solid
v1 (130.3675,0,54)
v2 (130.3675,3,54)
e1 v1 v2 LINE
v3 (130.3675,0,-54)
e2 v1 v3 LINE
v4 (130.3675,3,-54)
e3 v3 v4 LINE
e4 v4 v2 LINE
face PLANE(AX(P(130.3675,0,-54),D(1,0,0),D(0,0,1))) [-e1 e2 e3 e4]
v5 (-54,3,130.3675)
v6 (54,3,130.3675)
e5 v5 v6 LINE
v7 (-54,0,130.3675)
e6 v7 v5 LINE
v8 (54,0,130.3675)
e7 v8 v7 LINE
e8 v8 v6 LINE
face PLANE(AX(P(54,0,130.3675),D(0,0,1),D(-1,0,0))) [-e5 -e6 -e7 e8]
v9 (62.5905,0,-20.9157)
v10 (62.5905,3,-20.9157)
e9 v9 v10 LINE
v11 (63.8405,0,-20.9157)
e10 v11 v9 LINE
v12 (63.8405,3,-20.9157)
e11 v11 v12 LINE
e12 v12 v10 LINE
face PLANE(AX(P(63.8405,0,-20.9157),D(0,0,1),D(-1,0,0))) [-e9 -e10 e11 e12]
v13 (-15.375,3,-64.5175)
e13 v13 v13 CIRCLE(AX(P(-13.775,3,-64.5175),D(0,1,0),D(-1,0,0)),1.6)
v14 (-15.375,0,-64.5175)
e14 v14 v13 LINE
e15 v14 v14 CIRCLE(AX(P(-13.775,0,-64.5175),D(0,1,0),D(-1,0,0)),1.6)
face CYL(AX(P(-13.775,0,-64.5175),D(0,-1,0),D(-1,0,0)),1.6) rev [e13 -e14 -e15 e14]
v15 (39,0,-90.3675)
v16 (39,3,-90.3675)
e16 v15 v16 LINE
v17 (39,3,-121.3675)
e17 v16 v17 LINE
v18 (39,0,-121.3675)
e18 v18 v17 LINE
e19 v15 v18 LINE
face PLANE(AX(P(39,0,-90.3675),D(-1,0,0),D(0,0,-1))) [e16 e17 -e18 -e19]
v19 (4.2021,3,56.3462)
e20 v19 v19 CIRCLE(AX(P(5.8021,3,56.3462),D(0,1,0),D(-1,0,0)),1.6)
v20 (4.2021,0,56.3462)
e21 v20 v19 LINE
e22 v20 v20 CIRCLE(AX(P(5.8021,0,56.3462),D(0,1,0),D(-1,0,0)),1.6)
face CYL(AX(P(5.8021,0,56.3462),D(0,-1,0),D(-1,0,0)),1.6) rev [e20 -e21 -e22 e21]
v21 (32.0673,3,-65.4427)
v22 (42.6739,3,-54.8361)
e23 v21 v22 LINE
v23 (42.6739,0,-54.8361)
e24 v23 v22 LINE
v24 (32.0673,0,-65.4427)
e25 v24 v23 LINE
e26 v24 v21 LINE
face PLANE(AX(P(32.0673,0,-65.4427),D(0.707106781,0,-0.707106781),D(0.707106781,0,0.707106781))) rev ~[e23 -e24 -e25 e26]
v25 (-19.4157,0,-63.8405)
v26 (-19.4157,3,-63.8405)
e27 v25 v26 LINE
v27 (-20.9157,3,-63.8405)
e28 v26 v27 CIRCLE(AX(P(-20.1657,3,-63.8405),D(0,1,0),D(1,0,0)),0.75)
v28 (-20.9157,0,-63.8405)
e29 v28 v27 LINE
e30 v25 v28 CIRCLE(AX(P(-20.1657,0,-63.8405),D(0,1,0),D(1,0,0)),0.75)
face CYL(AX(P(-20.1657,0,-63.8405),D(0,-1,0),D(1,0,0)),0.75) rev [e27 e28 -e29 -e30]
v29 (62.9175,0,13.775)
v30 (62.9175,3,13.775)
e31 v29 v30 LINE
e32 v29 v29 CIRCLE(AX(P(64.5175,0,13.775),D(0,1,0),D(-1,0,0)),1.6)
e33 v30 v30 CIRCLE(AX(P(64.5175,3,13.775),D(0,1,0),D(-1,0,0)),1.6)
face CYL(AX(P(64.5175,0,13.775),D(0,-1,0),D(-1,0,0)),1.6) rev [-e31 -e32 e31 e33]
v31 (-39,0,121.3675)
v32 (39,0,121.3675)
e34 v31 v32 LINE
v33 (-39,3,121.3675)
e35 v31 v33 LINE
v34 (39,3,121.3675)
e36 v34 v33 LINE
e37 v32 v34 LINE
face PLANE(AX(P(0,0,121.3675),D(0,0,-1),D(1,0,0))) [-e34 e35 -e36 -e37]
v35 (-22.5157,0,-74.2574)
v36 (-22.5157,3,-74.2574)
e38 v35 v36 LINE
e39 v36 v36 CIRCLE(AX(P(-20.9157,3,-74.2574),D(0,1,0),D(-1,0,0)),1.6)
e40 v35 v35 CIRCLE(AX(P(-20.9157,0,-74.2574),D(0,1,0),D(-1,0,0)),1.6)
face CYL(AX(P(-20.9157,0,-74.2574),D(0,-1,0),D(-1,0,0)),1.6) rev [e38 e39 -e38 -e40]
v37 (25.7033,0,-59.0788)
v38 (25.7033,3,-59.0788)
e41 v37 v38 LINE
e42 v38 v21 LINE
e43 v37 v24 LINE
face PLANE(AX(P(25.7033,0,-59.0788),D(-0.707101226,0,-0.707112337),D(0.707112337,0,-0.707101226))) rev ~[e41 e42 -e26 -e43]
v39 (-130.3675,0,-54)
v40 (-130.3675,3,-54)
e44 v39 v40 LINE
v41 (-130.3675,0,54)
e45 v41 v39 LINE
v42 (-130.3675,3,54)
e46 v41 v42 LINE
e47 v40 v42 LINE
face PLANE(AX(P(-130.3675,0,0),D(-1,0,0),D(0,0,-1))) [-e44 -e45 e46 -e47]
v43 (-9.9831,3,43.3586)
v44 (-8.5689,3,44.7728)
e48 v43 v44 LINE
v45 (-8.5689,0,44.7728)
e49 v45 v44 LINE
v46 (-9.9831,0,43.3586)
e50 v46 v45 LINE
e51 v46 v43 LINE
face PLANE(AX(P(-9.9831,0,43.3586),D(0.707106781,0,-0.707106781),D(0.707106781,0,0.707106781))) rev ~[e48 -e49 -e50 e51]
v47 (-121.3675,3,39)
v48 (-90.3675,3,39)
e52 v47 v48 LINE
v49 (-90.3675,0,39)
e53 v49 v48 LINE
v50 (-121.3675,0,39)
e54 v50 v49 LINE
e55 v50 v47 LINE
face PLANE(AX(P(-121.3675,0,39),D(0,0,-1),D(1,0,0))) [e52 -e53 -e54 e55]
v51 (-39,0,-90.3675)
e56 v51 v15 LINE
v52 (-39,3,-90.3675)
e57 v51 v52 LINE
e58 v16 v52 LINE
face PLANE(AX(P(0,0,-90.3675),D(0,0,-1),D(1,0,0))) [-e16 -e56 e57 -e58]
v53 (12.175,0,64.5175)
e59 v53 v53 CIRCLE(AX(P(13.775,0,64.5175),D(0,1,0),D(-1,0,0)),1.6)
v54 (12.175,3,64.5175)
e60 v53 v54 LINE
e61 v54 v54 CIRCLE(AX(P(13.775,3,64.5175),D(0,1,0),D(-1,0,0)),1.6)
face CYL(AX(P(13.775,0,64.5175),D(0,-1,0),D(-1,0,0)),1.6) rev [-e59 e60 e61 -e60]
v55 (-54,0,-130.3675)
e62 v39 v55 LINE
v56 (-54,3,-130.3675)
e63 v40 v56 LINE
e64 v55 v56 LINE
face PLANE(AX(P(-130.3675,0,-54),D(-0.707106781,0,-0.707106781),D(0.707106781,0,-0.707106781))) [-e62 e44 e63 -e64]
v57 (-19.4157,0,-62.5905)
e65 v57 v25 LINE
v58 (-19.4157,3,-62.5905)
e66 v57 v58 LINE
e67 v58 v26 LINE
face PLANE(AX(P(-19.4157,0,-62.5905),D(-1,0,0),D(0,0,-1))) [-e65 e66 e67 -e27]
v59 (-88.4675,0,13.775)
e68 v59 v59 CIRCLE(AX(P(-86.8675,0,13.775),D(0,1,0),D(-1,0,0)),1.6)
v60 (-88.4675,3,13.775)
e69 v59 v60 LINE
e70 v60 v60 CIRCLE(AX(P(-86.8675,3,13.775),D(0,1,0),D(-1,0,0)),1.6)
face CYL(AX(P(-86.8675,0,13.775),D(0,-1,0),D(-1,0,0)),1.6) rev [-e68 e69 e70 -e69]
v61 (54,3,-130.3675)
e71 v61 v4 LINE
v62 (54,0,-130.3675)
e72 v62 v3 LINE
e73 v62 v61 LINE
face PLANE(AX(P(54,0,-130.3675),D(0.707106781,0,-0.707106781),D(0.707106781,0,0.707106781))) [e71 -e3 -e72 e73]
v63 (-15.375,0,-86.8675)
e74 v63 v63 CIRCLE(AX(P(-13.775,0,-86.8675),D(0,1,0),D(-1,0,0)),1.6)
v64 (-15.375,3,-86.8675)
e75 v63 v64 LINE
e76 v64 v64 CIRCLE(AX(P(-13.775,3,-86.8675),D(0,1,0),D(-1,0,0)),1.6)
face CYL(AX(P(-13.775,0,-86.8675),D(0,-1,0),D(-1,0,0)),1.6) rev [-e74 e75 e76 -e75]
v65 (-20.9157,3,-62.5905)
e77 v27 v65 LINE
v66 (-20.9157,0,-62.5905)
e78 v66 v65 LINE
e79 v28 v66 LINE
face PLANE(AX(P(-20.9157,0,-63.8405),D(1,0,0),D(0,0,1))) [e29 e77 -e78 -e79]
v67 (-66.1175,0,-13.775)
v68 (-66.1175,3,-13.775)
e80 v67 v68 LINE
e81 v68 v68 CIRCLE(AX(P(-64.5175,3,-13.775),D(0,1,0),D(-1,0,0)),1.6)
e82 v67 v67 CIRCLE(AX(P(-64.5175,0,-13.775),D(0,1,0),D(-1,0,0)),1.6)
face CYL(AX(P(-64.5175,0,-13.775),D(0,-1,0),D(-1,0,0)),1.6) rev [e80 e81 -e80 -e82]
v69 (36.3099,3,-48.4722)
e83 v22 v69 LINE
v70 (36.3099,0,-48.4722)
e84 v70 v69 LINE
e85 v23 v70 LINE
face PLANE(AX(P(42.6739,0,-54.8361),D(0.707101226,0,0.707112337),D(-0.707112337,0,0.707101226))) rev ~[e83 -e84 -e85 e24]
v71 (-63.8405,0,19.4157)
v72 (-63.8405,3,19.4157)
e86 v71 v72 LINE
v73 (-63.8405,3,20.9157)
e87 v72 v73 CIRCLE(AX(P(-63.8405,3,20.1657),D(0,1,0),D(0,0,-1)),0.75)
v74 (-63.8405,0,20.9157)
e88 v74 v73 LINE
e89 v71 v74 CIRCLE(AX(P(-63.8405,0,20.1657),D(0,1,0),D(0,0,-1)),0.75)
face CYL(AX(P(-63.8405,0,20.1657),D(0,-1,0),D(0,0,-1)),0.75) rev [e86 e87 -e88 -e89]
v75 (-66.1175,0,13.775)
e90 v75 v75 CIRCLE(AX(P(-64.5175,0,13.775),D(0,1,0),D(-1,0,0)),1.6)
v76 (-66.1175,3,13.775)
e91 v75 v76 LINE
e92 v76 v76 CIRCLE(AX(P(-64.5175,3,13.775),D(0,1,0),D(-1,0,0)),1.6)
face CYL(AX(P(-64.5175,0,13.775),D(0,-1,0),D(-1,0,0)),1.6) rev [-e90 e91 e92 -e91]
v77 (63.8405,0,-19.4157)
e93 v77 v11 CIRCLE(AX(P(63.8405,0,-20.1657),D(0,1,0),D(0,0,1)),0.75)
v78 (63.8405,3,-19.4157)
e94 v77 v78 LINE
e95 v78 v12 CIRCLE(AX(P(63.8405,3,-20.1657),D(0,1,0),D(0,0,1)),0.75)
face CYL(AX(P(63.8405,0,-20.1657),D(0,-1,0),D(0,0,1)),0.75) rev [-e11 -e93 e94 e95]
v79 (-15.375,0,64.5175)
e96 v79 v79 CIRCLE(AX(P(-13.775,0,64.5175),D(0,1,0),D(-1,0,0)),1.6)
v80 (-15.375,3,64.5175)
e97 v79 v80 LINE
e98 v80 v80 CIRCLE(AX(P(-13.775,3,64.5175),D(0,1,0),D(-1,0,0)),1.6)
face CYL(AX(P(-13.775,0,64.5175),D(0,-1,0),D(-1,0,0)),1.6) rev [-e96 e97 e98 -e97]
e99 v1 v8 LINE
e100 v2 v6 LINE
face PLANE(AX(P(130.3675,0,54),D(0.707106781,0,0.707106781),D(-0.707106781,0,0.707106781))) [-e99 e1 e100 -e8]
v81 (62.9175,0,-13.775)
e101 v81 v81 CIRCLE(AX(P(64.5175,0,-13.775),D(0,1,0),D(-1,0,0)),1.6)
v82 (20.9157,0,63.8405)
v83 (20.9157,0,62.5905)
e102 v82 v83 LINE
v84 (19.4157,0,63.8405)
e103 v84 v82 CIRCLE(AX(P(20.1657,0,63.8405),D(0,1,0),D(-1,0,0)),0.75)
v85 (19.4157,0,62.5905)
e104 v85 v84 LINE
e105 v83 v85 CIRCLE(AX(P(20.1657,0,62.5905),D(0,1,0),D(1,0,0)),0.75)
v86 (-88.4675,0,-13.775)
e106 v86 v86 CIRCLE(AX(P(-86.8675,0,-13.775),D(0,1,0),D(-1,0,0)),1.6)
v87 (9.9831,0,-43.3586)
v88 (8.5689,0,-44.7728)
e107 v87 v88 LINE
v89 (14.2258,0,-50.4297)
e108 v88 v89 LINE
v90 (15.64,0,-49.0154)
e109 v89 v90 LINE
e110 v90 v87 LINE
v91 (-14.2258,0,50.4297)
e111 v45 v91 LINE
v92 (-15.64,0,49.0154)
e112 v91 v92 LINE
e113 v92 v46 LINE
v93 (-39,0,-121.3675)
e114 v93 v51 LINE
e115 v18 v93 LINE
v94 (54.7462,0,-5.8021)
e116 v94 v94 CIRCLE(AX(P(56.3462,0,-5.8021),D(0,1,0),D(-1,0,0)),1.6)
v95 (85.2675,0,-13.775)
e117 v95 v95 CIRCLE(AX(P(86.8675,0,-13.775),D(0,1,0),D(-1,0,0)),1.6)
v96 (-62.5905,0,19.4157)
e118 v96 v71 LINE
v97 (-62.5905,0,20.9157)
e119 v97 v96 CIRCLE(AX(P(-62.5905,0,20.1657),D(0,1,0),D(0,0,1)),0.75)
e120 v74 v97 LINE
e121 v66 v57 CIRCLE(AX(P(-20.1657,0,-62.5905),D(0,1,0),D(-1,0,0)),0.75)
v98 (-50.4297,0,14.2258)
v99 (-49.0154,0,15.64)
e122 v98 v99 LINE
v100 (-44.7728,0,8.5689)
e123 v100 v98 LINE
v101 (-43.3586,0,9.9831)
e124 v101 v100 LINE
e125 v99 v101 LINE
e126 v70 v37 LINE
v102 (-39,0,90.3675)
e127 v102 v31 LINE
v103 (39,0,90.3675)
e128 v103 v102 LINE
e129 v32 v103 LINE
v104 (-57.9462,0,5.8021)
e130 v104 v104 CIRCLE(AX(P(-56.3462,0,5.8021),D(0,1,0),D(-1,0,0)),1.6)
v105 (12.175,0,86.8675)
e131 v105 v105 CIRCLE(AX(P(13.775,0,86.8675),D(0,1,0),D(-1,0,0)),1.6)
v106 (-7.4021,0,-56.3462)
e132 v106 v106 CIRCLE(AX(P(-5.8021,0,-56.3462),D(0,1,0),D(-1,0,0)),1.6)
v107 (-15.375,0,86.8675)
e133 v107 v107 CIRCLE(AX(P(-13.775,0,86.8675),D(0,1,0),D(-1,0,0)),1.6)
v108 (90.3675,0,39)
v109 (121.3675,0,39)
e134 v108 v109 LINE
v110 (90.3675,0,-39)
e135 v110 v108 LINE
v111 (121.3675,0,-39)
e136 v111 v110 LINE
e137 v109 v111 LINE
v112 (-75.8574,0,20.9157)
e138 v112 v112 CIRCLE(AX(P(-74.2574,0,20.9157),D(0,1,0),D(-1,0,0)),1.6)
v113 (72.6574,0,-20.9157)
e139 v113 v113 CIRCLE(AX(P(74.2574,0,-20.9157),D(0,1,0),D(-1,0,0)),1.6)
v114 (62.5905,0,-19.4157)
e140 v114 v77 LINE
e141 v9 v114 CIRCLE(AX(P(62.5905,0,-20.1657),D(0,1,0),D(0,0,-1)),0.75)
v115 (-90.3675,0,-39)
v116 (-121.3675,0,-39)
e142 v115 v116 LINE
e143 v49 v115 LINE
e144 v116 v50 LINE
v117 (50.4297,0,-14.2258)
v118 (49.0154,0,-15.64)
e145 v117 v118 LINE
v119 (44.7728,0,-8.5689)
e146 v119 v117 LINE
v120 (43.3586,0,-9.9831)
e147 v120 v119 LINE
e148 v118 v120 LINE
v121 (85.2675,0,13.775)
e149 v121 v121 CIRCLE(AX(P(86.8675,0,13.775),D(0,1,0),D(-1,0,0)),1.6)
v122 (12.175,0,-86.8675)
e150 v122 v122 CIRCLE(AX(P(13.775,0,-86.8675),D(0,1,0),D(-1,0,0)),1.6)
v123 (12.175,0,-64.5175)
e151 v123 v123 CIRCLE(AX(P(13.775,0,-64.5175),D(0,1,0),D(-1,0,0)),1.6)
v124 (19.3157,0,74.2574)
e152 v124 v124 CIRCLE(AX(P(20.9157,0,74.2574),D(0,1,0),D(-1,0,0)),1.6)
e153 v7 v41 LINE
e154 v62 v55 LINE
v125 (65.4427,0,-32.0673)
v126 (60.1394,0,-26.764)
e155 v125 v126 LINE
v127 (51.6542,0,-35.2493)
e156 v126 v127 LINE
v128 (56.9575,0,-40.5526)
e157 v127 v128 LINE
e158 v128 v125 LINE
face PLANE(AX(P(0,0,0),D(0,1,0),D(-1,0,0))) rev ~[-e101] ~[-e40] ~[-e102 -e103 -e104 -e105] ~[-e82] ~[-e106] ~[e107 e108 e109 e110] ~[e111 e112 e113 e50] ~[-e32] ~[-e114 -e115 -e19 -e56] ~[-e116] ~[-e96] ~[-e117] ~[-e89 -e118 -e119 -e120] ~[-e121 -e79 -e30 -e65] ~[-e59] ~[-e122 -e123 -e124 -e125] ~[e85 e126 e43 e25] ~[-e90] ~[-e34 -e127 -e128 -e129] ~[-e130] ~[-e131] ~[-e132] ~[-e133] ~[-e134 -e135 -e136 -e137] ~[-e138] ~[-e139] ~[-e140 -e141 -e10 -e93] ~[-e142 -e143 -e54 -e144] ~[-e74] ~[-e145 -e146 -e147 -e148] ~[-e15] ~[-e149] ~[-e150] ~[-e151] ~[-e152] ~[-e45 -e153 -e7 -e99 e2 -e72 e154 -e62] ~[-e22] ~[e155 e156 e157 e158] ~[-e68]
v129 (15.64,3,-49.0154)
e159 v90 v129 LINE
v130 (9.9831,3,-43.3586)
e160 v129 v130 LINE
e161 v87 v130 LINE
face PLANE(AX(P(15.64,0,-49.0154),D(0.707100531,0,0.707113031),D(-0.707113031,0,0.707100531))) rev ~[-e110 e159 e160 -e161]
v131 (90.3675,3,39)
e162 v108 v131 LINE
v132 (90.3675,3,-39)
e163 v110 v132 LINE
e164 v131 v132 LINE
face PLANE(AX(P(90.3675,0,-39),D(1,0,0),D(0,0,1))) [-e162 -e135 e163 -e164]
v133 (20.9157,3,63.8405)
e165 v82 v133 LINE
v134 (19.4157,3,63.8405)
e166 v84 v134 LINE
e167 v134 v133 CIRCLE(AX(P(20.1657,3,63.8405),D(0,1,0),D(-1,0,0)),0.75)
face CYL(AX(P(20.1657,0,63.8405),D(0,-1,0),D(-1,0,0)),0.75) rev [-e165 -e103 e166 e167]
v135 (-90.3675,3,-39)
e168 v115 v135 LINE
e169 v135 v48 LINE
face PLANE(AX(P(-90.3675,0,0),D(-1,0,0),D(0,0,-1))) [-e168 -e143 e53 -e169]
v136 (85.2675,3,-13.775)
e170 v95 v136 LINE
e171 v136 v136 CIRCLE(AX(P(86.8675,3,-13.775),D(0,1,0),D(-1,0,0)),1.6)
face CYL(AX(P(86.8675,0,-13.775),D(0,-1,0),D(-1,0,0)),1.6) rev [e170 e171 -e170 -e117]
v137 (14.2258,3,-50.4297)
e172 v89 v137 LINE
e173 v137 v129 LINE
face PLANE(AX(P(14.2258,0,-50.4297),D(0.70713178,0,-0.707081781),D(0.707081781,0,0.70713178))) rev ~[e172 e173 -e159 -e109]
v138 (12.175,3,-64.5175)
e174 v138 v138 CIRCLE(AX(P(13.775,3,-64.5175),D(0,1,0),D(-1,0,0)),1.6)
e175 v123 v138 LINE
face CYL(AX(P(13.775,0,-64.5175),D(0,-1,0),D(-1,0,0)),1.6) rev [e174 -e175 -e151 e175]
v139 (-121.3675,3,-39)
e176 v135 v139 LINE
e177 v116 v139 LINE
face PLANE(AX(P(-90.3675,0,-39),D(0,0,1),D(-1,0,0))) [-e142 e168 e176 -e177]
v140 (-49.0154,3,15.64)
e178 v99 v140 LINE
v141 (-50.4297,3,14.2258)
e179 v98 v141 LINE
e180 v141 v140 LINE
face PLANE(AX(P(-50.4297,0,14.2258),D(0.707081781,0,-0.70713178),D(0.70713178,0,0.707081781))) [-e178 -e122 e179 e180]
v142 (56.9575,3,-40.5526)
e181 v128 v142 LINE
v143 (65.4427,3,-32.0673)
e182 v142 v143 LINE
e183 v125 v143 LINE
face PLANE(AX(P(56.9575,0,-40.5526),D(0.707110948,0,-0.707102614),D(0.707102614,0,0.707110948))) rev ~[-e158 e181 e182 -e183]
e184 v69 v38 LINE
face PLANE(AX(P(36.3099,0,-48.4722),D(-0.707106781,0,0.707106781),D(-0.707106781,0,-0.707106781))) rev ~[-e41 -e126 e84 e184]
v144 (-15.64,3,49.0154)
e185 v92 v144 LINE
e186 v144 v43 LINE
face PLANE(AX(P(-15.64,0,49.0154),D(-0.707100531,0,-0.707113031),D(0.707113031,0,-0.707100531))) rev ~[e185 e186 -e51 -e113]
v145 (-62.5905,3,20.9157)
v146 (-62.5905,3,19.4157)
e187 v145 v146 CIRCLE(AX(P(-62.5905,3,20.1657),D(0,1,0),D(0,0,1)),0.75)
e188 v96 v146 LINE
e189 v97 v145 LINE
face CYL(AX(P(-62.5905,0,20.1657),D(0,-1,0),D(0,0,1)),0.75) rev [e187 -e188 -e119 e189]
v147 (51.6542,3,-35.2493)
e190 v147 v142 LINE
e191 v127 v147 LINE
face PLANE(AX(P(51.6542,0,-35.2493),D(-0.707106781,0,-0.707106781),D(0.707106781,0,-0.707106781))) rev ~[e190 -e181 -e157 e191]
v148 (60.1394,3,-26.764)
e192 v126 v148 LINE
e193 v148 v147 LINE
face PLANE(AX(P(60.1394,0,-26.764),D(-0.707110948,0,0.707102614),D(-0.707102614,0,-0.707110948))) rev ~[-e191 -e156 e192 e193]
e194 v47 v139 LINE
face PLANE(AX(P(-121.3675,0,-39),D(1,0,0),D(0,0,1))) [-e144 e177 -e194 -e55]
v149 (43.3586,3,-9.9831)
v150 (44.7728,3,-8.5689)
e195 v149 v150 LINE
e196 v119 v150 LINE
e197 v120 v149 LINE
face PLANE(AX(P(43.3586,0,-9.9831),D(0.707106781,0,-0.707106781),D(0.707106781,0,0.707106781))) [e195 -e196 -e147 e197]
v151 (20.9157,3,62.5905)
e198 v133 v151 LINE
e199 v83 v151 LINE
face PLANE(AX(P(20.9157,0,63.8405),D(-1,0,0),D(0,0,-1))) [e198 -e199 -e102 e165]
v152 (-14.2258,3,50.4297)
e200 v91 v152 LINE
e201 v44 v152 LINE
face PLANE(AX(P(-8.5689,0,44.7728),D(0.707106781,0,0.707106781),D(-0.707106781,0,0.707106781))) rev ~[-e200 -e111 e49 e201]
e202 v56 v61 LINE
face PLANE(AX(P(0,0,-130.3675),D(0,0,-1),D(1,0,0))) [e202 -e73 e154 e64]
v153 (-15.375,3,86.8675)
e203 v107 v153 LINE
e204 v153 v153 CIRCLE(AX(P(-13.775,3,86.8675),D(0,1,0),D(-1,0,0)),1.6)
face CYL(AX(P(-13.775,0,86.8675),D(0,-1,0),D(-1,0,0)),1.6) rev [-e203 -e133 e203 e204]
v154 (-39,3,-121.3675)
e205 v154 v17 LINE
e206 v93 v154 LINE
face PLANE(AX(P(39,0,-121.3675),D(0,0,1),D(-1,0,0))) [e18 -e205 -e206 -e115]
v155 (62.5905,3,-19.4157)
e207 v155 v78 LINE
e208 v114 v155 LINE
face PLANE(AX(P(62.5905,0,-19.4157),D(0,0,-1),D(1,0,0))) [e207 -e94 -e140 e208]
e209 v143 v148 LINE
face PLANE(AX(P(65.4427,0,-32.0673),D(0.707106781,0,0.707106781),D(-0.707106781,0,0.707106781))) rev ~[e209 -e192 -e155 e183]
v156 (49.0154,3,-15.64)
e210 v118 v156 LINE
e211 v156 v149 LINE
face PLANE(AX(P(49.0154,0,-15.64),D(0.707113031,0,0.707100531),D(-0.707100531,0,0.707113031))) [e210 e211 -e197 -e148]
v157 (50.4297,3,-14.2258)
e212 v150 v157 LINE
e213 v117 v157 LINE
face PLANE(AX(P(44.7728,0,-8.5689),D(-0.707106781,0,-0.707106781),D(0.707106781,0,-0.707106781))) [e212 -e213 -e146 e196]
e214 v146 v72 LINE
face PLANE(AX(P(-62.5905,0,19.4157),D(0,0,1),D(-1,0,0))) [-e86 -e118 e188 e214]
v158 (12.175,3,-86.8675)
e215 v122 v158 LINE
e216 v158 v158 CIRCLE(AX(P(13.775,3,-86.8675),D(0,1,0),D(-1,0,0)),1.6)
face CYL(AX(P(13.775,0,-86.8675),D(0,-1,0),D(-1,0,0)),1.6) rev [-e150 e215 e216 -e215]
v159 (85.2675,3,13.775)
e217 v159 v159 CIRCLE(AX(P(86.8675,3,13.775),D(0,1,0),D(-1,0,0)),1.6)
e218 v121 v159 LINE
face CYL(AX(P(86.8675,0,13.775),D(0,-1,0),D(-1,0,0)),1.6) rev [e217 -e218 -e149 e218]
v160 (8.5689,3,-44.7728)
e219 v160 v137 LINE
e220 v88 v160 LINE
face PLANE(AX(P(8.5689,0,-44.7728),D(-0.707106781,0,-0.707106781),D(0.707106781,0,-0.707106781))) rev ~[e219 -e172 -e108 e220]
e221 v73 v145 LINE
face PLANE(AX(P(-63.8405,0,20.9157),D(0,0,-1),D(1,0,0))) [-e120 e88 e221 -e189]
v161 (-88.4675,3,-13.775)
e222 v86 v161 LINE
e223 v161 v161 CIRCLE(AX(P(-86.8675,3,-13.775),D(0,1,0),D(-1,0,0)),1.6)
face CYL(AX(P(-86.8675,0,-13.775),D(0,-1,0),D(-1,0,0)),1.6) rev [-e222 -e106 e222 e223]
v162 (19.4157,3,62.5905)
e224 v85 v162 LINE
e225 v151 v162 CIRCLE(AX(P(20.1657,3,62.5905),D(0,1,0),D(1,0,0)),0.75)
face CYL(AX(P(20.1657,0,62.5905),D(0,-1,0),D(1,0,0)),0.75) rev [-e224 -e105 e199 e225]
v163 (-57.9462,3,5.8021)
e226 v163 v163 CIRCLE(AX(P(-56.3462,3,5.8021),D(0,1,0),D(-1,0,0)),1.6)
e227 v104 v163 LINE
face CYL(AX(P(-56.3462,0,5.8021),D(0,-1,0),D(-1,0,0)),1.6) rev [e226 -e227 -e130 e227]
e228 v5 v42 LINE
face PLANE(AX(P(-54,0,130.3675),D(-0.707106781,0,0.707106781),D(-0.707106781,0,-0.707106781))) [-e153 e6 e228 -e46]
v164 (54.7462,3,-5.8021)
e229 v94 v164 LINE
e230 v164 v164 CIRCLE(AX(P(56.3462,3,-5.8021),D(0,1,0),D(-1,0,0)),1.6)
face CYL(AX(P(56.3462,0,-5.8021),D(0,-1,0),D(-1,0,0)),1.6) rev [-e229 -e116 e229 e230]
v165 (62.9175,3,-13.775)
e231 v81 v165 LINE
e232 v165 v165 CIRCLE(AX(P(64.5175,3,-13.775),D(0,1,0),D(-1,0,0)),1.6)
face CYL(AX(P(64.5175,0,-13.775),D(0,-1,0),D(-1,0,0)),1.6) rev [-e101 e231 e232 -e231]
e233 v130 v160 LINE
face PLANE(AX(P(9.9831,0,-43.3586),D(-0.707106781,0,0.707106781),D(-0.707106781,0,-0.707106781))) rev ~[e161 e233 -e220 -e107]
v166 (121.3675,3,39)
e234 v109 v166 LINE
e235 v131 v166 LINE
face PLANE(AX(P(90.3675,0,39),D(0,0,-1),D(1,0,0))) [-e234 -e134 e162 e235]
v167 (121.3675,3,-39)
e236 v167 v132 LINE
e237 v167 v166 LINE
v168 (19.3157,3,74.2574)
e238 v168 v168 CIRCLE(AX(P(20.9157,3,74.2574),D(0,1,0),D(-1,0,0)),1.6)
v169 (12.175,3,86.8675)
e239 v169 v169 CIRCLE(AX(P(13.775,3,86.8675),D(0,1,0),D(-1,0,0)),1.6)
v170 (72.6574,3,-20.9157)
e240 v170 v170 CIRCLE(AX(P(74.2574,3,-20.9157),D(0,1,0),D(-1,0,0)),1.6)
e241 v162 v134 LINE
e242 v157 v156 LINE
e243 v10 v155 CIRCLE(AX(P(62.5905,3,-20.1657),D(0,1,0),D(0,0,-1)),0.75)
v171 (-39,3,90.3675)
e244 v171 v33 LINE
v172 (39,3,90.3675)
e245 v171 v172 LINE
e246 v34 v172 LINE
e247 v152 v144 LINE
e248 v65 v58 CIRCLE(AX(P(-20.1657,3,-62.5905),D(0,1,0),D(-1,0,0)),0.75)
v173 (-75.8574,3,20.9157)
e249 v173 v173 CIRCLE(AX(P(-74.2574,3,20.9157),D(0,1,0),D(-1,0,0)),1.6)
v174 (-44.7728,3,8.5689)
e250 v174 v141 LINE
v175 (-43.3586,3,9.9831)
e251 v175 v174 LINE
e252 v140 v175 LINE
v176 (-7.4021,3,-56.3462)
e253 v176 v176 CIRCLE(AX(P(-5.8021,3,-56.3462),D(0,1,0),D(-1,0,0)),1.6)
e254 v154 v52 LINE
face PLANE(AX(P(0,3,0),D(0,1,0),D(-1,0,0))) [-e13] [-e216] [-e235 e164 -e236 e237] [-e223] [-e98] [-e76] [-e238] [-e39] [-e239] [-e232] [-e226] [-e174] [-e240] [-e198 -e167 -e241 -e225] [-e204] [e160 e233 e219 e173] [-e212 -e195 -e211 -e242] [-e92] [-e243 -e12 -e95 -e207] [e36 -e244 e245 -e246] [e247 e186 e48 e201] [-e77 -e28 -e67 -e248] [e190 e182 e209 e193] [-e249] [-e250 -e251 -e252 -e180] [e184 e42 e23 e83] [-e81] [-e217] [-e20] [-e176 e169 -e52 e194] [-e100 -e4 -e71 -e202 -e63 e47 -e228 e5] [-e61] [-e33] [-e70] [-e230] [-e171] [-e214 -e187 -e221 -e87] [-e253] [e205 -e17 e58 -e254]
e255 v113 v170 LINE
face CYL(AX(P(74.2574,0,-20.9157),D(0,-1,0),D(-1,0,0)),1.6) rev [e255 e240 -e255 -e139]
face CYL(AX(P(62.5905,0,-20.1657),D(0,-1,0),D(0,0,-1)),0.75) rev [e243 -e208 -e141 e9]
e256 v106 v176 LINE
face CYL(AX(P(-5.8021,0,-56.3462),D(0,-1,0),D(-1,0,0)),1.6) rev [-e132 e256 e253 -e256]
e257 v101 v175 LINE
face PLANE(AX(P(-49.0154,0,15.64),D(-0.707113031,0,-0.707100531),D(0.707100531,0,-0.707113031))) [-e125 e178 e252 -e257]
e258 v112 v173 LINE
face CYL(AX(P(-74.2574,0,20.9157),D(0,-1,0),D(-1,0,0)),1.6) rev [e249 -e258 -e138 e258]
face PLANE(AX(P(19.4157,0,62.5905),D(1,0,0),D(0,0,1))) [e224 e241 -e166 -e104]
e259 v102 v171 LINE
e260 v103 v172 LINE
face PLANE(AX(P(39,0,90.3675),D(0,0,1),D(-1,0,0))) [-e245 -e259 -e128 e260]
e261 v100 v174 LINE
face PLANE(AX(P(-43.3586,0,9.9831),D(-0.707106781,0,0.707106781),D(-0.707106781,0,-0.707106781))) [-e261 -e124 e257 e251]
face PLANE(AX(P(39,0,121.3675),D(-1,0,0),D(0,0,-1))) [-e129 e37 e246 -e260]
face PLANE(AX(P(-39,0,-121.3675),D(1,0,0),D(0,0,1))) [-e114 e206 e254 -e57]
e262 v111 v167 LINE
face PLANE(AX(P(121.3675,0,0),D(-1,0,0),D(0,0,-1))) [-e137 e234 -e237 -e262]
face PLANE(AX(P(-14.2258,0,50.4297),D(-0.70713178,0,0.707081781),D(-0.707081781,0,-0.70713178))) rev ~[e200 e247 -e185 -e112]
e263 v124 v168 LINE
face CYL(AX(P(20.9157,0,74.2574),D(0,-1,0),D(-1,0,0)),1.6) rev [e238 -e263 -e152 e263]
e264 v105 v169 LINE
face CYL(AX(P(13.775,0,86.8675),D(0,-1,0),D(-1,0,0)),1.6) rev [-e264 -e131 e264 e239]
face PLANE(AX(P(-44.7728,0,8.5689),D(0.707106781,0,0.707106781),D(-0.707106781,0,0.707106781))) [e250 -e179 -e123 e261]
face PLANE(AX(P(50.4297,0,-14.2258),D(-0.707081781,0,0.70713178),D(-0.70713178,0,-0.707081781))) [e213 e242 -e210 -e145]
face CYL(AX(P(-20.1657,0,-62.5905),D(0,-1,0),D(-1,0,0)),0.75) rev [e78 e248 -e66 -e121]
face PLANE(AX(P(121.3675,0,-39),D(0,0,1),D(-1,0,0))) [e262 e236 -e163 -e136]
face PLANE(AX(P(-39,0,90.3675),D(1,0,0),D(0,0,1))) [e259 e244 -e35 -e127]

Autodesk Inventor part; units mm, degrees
ref_plane "YZ Plane" through (0, 0, 0) normal (1, 0, 0) x (0, 1, 0)
ref_plane "XZ Plane" through (0, 0, 0) normal (0, 1, 0) x (-1, 0, 0)
ref_plane "XY Plane" through (0, 0, 0) normal (0, 0, 1) x (1, 0, 0)
sketch "Sketch2" plane through (0, 0, 0) normal (0, 1, 0) x (-1, 0, 0)
  line L0 (-54, -130.3675) -> (-130.3675, -54)
  line L1 (-130.3675, -54) -> (-130.3675, 54)
  line L2 (-130.3675, 54) -> (-54, 130.3675)
  line L3 (-54, 130.3675) -> (54, 130.3675)
  line L4 (54, 130.3675) -> (130.3675, 54)
  line L5 (130.3675, 54) -> (130.3675, -54)
  line L6 (130.3675, -54) -> (54, -130.3675)
  line L7 (54, -130.3675) -> (-54, -130.3675)
  line L8 (57646.2618, 0) -> (-57646.2618, 0) projected
  line L9 (-39, -121.3675) -> (39, -121.3675)
  line L10 (39, -121.3675) -> (39, -90.3675)
  line L11 (39, -90.3675) -> (-39, -90.3675)
  line L12 (-39, -90.3675) -> (-39, -121.3675)
  line L13 (90.3675, -39) -> (121.3675, -39)
  line L14 (90.3675, 39) -> (90.3675, -39)
  line L15 (121.3675, -39) -> (121.3675, 39)
  line L16 (121.3675, 39) -> (90.3675, 39)
  line L17 (39, 90.3675) -> (39, 121.3675)
  line L18 (-39, 90.3675) -> (39, 90.3675)
  line L19 (39, 121.3675) -> (-39, 121.3675)
  line L20 (-39, 121.3675) -> (-39, 90.3675)
  line L21 (-90.3675, 39) -> (-121.3675, 39)
  line L22 (-90.3675, -39) -> (-90.3675, 39)
  line L23 (-121.3675, 39) -> (-121.3675, -39)
  line L24 (-121.3675, -39) -> (-90.3675, -39)
  circle A0 centre (-13.775, -86.8675) radius 1.6
  line L25 (0, -3770.9416) -> (0, 3770.9416) projected
  circle A1 centre (-13.775, -64.5175) radius 1.6
  circle A2 centre (13.775, -86.8675) radius 1.6
  circle A3 centre (13.775, -64.5175) radius 1.6
  circle A4 centre (86.8675, -13.775) radius 1.6
  circle A5 centre (86.8675, 13.775) radius 1.6
  circle A6 centre (64.5175, -13.775) radius 1.6
  circle A7 centre (64.5175, 13.775) radius 1.6
  circle A8 centre (13.775, 86.8675) radius 1.6
  circle A9 centre (-13.775, 86.8675) radius 1.6
  circle A10 centre (13.775, 64.5175) radius 1.6
  circle A11 centre (-13.775, 64.5175) radius 1.6
  circle A12 centre (-86.8675, 13.775) radius 1.6
  circle A13 centre (-86.8675, -13.775) radius 1.6
  circle A14 centre (-64.5175, 13.775) radius 1.6
  circle A15 centre (-64.5175, -13.775) radius 1.6
  line L26 (-14.2258, -50.4297) -> (-15.64, -49.0154)
  line L27 (-15.64, -49.0154) -> (-9.9831, -43.3586)
  line L28 (-9.9831, -43.3586) -> (-8.5689, -44.7728)
  line L29 (-8.5689, -44.7728) -> (-14.2258, -50.4297)
  line L30 (-57646.2618, 0) -> (57646.2618, 0)
  circle A16 centre (20.9157, -74.2574) radius 1.6
  line L31 (0, 3770.9416) -> (0, -3770.9416)
  line L32 (-48.6843, -48.6843) -> (48.6843, 48.6843)
  line L33 (-48.6843, -48.6843) -> (89.0157, -48.6843) construction
  line L34 (16.6877, -16.6877) -> (-16.6877, 16.6877)
  line L35 (-50.4297, -14.2258) -> (-49.0154, -15.64)
  line L36 (-49.0154, -15.64) -> (-43.3586, -9.9831)
  line L37 (-43.3586, -9.9831) -> (-44.7728, -8.5689)
  line L38 (-44.7728, -8.5689) -> (-50.4297, -14.2258)
  line L39 (50.4297, 14.2258) -> (49.0154, 15.64)
  line L40 (49.0154, 15.64) -> (43.3586, 9.9831)
  line L41 (43.3586, 9.9831) -> (44.7728, 8.5689)
  line L42 (44.7728, 8.5689) -> (50.4297, 14.2258)
  line L43 (9.9831, 43.3586) -> (8.5689, 44.7728)
  line L44 (14.2258, 50.4297) -> (15.64, 49.0154)
  line L45 (15.64, 49.0154) -> (9.9831, 43.3586)
  line L46 (8.5689, 44.7728) -> (14.2258, 50.4297)
  line L47 (-32.0673, -65.4427) -> (-42.6739, -54.8361)
  line L48 (-42.6739, -54.8361) -> (-36.3099, -48.4722)
  line L49 (-36.3099, -48.4722) -> (-25.7033, -59.0788)
  line L50 (-25.7033, -59.0788) -> (-32.0673, -65.4427)
  line L51 (-56.9575, -40.5526) -> (-65.4427, -32.0673)
  line L52 (-65.4427, -32.0673) -> (-60.1394, -26.764)
  line L53 (-60.1394, -26.764) -> (-51.6542, -35.2493)
  line L54 (-51.6542, -35.2493) -> (-56.9575, -40.5526)
  line L55 (20.1657, -61.8405) -> (20.1657, -64.5905) construction
  line L56 (19.4157, -62.5905) -> (19.4157, -63.8405)
  line L57 (20.9157, -63.8405) -> (20.9157, -62.5905)
  arc A17 (20.9157, -62.5905) -> (19.4157, -62.5905) centre (20.1657, -62.5905) ccw
  arc A18 (19.4157, -63.8405) -> (20.9157, -63.8405) centre (20.1657, -63.8405) ccw
  arc A19 (62.5905, 20.9157) -> (62.5905, 19.4157) centre (62.5905, 20.1657) ccw
  line L58 (63.8405, 20.9157) -> (62.5905, 20.9157)
  line L59 (62.5905, 19.4157) -> (63.8405, 19.4157)
  arc A20 (63.8405, 19.4157) -> (63.8405, 20.9157) centre (63.8405, 20.1657) ccw
  line L60 (61.8405, 20.1657) -> (64.5905, 20.1657) construction
  arc A21 (-20.9157, 62.5905) -> (-19.4157, 62.5905) centre (-20.1657, 62.5905) ccw
  line L61 (-20.9157, 63.8405) -> (-20.9157, 62.5905)
  line L62 (-19.4157, 62.5905) -> (-19.4157, 63.8405)
  arc A22 (-19.4157, 63.8405) -> (-20.9157, 63.8405) centre (-20.1657, 63.8405) ccw
  line L63 (-20.1657, 61.8405) -> (-20.1657, 64.5905) construction
  arc A23 (-62.5905, -20.9157) -> (-62.5905, -19.4157) centre (-62.5905, -20.1657) ccw
  line L64 (-63.8405, -20.9157) -> (-62.5905, -20.9157)
  line L65 (-62.5905, -19.4157) -> (-63.8405, -19.4157)
  arc A24 (-63.8405, -19.4157) -> (-63.8405, -20.9157) centre (-63.8405, -20.1657) ccw
  line L66 (-61.8405, -20.1657) -> (-64.5905, -20.1657) construction
  circle A25 centre (0, 128.0141) radius 1.6
  circle A26 centre (-128.0141, 0) radius 1.6
  circle A27 centre (0, -128.0141) radius 1.6
  circle A28 centre (128.0141, 0) radius 1.6
  circle A29 centre (5.8021, -56.3462) radius 1.6
  circle A30 centre (74.2574, 20.9157) radius 1.6
  circle A31 centre (56.3462, 5.8021) radius 1.6
  circle A32 centre (-20.9157, 74.2574) radius 1.6
  circle A33 centre (-5.8021, 56.3462) radius 1.6
  circle A34 centre (-74.2574, -20.9157) radius 1.6
  circle A35 centre (-56.3462, -5.8021) radius 1.6
  point P0 (0, 0)
  point P1 (0, 0)
  point P2 (0, 0)
  point P3 (0, 0)
  point P4 (0, 0)
  point P5 (0, 0)
  point P6 (0, 0)
  point P7 (0, 0)
  point P8 (20.1657, -63.2155)
  point P9 (63.2155, 20.1657)
  point P10 (-20.1657, 63.2155)
  point P11 (-63.2155, -20.1657)
  dimension "d5" = 9
  dimension "d6" = 31
  dimension "d7" = 15
  dimension "d8" = 15
  dimension "d11" = 360
  dimension "d13" = 78
  dimension "d14" = 13.775
  dimension "d16" = 3.5
  dimension "d18" = 22.35
  dimension "d21" = 360
  dimension "d24" = 2
  dimension "d25" = 8
  dimension "d29" = 3.2
  dimension "d41" = 3.2
  dimension "d48" = 137.7
  dimension "d49" = 45
  dimension "d50" = 47.2
  dimension "d51" = 23.6
  dimension "d52" = 9
  dimension "d53" = 15
  dimension "d56" = 68.95
  dimension "d57" = 23.6
  dimension "d58" = 68.95
  dimension "d59" = 23.6
  dimension "d60" = 7.5
  dimension "d61" = 12
  dimension "d62" = 2.75
  dimension "d63" = 1.5
  dimension "d66" = 360
  dimension "d70" = 3.2
  dimension "d73" = 360
  dimension "d83" = 3.2
  dimension "d86" = 360
extrude "Extrusion5" add sketch "Sketch2" along normal blind 3 contours L0 L1 L8 A26 L23 L24 L22 L25 L11 L12 L9 A27 L7 | L25 A27 L9 L10 L11 L8 L14 L13 L15 A28 L5 L6 L7 | L1 L2 L3 L25 A25 L19 L20 L18 L8 L22 L21 L23 A26 | A27 L25 | L25 A27 | A26 L8 | L8 A26 | L8 A28 L15 L16 L14 L25 L18 L17 L19 A25 L3 L4 L5 | A28 L8 | L8 A28 | A25 L25 | L25 A25
equation "\"d8\" = d7"
properties part number "Base"
